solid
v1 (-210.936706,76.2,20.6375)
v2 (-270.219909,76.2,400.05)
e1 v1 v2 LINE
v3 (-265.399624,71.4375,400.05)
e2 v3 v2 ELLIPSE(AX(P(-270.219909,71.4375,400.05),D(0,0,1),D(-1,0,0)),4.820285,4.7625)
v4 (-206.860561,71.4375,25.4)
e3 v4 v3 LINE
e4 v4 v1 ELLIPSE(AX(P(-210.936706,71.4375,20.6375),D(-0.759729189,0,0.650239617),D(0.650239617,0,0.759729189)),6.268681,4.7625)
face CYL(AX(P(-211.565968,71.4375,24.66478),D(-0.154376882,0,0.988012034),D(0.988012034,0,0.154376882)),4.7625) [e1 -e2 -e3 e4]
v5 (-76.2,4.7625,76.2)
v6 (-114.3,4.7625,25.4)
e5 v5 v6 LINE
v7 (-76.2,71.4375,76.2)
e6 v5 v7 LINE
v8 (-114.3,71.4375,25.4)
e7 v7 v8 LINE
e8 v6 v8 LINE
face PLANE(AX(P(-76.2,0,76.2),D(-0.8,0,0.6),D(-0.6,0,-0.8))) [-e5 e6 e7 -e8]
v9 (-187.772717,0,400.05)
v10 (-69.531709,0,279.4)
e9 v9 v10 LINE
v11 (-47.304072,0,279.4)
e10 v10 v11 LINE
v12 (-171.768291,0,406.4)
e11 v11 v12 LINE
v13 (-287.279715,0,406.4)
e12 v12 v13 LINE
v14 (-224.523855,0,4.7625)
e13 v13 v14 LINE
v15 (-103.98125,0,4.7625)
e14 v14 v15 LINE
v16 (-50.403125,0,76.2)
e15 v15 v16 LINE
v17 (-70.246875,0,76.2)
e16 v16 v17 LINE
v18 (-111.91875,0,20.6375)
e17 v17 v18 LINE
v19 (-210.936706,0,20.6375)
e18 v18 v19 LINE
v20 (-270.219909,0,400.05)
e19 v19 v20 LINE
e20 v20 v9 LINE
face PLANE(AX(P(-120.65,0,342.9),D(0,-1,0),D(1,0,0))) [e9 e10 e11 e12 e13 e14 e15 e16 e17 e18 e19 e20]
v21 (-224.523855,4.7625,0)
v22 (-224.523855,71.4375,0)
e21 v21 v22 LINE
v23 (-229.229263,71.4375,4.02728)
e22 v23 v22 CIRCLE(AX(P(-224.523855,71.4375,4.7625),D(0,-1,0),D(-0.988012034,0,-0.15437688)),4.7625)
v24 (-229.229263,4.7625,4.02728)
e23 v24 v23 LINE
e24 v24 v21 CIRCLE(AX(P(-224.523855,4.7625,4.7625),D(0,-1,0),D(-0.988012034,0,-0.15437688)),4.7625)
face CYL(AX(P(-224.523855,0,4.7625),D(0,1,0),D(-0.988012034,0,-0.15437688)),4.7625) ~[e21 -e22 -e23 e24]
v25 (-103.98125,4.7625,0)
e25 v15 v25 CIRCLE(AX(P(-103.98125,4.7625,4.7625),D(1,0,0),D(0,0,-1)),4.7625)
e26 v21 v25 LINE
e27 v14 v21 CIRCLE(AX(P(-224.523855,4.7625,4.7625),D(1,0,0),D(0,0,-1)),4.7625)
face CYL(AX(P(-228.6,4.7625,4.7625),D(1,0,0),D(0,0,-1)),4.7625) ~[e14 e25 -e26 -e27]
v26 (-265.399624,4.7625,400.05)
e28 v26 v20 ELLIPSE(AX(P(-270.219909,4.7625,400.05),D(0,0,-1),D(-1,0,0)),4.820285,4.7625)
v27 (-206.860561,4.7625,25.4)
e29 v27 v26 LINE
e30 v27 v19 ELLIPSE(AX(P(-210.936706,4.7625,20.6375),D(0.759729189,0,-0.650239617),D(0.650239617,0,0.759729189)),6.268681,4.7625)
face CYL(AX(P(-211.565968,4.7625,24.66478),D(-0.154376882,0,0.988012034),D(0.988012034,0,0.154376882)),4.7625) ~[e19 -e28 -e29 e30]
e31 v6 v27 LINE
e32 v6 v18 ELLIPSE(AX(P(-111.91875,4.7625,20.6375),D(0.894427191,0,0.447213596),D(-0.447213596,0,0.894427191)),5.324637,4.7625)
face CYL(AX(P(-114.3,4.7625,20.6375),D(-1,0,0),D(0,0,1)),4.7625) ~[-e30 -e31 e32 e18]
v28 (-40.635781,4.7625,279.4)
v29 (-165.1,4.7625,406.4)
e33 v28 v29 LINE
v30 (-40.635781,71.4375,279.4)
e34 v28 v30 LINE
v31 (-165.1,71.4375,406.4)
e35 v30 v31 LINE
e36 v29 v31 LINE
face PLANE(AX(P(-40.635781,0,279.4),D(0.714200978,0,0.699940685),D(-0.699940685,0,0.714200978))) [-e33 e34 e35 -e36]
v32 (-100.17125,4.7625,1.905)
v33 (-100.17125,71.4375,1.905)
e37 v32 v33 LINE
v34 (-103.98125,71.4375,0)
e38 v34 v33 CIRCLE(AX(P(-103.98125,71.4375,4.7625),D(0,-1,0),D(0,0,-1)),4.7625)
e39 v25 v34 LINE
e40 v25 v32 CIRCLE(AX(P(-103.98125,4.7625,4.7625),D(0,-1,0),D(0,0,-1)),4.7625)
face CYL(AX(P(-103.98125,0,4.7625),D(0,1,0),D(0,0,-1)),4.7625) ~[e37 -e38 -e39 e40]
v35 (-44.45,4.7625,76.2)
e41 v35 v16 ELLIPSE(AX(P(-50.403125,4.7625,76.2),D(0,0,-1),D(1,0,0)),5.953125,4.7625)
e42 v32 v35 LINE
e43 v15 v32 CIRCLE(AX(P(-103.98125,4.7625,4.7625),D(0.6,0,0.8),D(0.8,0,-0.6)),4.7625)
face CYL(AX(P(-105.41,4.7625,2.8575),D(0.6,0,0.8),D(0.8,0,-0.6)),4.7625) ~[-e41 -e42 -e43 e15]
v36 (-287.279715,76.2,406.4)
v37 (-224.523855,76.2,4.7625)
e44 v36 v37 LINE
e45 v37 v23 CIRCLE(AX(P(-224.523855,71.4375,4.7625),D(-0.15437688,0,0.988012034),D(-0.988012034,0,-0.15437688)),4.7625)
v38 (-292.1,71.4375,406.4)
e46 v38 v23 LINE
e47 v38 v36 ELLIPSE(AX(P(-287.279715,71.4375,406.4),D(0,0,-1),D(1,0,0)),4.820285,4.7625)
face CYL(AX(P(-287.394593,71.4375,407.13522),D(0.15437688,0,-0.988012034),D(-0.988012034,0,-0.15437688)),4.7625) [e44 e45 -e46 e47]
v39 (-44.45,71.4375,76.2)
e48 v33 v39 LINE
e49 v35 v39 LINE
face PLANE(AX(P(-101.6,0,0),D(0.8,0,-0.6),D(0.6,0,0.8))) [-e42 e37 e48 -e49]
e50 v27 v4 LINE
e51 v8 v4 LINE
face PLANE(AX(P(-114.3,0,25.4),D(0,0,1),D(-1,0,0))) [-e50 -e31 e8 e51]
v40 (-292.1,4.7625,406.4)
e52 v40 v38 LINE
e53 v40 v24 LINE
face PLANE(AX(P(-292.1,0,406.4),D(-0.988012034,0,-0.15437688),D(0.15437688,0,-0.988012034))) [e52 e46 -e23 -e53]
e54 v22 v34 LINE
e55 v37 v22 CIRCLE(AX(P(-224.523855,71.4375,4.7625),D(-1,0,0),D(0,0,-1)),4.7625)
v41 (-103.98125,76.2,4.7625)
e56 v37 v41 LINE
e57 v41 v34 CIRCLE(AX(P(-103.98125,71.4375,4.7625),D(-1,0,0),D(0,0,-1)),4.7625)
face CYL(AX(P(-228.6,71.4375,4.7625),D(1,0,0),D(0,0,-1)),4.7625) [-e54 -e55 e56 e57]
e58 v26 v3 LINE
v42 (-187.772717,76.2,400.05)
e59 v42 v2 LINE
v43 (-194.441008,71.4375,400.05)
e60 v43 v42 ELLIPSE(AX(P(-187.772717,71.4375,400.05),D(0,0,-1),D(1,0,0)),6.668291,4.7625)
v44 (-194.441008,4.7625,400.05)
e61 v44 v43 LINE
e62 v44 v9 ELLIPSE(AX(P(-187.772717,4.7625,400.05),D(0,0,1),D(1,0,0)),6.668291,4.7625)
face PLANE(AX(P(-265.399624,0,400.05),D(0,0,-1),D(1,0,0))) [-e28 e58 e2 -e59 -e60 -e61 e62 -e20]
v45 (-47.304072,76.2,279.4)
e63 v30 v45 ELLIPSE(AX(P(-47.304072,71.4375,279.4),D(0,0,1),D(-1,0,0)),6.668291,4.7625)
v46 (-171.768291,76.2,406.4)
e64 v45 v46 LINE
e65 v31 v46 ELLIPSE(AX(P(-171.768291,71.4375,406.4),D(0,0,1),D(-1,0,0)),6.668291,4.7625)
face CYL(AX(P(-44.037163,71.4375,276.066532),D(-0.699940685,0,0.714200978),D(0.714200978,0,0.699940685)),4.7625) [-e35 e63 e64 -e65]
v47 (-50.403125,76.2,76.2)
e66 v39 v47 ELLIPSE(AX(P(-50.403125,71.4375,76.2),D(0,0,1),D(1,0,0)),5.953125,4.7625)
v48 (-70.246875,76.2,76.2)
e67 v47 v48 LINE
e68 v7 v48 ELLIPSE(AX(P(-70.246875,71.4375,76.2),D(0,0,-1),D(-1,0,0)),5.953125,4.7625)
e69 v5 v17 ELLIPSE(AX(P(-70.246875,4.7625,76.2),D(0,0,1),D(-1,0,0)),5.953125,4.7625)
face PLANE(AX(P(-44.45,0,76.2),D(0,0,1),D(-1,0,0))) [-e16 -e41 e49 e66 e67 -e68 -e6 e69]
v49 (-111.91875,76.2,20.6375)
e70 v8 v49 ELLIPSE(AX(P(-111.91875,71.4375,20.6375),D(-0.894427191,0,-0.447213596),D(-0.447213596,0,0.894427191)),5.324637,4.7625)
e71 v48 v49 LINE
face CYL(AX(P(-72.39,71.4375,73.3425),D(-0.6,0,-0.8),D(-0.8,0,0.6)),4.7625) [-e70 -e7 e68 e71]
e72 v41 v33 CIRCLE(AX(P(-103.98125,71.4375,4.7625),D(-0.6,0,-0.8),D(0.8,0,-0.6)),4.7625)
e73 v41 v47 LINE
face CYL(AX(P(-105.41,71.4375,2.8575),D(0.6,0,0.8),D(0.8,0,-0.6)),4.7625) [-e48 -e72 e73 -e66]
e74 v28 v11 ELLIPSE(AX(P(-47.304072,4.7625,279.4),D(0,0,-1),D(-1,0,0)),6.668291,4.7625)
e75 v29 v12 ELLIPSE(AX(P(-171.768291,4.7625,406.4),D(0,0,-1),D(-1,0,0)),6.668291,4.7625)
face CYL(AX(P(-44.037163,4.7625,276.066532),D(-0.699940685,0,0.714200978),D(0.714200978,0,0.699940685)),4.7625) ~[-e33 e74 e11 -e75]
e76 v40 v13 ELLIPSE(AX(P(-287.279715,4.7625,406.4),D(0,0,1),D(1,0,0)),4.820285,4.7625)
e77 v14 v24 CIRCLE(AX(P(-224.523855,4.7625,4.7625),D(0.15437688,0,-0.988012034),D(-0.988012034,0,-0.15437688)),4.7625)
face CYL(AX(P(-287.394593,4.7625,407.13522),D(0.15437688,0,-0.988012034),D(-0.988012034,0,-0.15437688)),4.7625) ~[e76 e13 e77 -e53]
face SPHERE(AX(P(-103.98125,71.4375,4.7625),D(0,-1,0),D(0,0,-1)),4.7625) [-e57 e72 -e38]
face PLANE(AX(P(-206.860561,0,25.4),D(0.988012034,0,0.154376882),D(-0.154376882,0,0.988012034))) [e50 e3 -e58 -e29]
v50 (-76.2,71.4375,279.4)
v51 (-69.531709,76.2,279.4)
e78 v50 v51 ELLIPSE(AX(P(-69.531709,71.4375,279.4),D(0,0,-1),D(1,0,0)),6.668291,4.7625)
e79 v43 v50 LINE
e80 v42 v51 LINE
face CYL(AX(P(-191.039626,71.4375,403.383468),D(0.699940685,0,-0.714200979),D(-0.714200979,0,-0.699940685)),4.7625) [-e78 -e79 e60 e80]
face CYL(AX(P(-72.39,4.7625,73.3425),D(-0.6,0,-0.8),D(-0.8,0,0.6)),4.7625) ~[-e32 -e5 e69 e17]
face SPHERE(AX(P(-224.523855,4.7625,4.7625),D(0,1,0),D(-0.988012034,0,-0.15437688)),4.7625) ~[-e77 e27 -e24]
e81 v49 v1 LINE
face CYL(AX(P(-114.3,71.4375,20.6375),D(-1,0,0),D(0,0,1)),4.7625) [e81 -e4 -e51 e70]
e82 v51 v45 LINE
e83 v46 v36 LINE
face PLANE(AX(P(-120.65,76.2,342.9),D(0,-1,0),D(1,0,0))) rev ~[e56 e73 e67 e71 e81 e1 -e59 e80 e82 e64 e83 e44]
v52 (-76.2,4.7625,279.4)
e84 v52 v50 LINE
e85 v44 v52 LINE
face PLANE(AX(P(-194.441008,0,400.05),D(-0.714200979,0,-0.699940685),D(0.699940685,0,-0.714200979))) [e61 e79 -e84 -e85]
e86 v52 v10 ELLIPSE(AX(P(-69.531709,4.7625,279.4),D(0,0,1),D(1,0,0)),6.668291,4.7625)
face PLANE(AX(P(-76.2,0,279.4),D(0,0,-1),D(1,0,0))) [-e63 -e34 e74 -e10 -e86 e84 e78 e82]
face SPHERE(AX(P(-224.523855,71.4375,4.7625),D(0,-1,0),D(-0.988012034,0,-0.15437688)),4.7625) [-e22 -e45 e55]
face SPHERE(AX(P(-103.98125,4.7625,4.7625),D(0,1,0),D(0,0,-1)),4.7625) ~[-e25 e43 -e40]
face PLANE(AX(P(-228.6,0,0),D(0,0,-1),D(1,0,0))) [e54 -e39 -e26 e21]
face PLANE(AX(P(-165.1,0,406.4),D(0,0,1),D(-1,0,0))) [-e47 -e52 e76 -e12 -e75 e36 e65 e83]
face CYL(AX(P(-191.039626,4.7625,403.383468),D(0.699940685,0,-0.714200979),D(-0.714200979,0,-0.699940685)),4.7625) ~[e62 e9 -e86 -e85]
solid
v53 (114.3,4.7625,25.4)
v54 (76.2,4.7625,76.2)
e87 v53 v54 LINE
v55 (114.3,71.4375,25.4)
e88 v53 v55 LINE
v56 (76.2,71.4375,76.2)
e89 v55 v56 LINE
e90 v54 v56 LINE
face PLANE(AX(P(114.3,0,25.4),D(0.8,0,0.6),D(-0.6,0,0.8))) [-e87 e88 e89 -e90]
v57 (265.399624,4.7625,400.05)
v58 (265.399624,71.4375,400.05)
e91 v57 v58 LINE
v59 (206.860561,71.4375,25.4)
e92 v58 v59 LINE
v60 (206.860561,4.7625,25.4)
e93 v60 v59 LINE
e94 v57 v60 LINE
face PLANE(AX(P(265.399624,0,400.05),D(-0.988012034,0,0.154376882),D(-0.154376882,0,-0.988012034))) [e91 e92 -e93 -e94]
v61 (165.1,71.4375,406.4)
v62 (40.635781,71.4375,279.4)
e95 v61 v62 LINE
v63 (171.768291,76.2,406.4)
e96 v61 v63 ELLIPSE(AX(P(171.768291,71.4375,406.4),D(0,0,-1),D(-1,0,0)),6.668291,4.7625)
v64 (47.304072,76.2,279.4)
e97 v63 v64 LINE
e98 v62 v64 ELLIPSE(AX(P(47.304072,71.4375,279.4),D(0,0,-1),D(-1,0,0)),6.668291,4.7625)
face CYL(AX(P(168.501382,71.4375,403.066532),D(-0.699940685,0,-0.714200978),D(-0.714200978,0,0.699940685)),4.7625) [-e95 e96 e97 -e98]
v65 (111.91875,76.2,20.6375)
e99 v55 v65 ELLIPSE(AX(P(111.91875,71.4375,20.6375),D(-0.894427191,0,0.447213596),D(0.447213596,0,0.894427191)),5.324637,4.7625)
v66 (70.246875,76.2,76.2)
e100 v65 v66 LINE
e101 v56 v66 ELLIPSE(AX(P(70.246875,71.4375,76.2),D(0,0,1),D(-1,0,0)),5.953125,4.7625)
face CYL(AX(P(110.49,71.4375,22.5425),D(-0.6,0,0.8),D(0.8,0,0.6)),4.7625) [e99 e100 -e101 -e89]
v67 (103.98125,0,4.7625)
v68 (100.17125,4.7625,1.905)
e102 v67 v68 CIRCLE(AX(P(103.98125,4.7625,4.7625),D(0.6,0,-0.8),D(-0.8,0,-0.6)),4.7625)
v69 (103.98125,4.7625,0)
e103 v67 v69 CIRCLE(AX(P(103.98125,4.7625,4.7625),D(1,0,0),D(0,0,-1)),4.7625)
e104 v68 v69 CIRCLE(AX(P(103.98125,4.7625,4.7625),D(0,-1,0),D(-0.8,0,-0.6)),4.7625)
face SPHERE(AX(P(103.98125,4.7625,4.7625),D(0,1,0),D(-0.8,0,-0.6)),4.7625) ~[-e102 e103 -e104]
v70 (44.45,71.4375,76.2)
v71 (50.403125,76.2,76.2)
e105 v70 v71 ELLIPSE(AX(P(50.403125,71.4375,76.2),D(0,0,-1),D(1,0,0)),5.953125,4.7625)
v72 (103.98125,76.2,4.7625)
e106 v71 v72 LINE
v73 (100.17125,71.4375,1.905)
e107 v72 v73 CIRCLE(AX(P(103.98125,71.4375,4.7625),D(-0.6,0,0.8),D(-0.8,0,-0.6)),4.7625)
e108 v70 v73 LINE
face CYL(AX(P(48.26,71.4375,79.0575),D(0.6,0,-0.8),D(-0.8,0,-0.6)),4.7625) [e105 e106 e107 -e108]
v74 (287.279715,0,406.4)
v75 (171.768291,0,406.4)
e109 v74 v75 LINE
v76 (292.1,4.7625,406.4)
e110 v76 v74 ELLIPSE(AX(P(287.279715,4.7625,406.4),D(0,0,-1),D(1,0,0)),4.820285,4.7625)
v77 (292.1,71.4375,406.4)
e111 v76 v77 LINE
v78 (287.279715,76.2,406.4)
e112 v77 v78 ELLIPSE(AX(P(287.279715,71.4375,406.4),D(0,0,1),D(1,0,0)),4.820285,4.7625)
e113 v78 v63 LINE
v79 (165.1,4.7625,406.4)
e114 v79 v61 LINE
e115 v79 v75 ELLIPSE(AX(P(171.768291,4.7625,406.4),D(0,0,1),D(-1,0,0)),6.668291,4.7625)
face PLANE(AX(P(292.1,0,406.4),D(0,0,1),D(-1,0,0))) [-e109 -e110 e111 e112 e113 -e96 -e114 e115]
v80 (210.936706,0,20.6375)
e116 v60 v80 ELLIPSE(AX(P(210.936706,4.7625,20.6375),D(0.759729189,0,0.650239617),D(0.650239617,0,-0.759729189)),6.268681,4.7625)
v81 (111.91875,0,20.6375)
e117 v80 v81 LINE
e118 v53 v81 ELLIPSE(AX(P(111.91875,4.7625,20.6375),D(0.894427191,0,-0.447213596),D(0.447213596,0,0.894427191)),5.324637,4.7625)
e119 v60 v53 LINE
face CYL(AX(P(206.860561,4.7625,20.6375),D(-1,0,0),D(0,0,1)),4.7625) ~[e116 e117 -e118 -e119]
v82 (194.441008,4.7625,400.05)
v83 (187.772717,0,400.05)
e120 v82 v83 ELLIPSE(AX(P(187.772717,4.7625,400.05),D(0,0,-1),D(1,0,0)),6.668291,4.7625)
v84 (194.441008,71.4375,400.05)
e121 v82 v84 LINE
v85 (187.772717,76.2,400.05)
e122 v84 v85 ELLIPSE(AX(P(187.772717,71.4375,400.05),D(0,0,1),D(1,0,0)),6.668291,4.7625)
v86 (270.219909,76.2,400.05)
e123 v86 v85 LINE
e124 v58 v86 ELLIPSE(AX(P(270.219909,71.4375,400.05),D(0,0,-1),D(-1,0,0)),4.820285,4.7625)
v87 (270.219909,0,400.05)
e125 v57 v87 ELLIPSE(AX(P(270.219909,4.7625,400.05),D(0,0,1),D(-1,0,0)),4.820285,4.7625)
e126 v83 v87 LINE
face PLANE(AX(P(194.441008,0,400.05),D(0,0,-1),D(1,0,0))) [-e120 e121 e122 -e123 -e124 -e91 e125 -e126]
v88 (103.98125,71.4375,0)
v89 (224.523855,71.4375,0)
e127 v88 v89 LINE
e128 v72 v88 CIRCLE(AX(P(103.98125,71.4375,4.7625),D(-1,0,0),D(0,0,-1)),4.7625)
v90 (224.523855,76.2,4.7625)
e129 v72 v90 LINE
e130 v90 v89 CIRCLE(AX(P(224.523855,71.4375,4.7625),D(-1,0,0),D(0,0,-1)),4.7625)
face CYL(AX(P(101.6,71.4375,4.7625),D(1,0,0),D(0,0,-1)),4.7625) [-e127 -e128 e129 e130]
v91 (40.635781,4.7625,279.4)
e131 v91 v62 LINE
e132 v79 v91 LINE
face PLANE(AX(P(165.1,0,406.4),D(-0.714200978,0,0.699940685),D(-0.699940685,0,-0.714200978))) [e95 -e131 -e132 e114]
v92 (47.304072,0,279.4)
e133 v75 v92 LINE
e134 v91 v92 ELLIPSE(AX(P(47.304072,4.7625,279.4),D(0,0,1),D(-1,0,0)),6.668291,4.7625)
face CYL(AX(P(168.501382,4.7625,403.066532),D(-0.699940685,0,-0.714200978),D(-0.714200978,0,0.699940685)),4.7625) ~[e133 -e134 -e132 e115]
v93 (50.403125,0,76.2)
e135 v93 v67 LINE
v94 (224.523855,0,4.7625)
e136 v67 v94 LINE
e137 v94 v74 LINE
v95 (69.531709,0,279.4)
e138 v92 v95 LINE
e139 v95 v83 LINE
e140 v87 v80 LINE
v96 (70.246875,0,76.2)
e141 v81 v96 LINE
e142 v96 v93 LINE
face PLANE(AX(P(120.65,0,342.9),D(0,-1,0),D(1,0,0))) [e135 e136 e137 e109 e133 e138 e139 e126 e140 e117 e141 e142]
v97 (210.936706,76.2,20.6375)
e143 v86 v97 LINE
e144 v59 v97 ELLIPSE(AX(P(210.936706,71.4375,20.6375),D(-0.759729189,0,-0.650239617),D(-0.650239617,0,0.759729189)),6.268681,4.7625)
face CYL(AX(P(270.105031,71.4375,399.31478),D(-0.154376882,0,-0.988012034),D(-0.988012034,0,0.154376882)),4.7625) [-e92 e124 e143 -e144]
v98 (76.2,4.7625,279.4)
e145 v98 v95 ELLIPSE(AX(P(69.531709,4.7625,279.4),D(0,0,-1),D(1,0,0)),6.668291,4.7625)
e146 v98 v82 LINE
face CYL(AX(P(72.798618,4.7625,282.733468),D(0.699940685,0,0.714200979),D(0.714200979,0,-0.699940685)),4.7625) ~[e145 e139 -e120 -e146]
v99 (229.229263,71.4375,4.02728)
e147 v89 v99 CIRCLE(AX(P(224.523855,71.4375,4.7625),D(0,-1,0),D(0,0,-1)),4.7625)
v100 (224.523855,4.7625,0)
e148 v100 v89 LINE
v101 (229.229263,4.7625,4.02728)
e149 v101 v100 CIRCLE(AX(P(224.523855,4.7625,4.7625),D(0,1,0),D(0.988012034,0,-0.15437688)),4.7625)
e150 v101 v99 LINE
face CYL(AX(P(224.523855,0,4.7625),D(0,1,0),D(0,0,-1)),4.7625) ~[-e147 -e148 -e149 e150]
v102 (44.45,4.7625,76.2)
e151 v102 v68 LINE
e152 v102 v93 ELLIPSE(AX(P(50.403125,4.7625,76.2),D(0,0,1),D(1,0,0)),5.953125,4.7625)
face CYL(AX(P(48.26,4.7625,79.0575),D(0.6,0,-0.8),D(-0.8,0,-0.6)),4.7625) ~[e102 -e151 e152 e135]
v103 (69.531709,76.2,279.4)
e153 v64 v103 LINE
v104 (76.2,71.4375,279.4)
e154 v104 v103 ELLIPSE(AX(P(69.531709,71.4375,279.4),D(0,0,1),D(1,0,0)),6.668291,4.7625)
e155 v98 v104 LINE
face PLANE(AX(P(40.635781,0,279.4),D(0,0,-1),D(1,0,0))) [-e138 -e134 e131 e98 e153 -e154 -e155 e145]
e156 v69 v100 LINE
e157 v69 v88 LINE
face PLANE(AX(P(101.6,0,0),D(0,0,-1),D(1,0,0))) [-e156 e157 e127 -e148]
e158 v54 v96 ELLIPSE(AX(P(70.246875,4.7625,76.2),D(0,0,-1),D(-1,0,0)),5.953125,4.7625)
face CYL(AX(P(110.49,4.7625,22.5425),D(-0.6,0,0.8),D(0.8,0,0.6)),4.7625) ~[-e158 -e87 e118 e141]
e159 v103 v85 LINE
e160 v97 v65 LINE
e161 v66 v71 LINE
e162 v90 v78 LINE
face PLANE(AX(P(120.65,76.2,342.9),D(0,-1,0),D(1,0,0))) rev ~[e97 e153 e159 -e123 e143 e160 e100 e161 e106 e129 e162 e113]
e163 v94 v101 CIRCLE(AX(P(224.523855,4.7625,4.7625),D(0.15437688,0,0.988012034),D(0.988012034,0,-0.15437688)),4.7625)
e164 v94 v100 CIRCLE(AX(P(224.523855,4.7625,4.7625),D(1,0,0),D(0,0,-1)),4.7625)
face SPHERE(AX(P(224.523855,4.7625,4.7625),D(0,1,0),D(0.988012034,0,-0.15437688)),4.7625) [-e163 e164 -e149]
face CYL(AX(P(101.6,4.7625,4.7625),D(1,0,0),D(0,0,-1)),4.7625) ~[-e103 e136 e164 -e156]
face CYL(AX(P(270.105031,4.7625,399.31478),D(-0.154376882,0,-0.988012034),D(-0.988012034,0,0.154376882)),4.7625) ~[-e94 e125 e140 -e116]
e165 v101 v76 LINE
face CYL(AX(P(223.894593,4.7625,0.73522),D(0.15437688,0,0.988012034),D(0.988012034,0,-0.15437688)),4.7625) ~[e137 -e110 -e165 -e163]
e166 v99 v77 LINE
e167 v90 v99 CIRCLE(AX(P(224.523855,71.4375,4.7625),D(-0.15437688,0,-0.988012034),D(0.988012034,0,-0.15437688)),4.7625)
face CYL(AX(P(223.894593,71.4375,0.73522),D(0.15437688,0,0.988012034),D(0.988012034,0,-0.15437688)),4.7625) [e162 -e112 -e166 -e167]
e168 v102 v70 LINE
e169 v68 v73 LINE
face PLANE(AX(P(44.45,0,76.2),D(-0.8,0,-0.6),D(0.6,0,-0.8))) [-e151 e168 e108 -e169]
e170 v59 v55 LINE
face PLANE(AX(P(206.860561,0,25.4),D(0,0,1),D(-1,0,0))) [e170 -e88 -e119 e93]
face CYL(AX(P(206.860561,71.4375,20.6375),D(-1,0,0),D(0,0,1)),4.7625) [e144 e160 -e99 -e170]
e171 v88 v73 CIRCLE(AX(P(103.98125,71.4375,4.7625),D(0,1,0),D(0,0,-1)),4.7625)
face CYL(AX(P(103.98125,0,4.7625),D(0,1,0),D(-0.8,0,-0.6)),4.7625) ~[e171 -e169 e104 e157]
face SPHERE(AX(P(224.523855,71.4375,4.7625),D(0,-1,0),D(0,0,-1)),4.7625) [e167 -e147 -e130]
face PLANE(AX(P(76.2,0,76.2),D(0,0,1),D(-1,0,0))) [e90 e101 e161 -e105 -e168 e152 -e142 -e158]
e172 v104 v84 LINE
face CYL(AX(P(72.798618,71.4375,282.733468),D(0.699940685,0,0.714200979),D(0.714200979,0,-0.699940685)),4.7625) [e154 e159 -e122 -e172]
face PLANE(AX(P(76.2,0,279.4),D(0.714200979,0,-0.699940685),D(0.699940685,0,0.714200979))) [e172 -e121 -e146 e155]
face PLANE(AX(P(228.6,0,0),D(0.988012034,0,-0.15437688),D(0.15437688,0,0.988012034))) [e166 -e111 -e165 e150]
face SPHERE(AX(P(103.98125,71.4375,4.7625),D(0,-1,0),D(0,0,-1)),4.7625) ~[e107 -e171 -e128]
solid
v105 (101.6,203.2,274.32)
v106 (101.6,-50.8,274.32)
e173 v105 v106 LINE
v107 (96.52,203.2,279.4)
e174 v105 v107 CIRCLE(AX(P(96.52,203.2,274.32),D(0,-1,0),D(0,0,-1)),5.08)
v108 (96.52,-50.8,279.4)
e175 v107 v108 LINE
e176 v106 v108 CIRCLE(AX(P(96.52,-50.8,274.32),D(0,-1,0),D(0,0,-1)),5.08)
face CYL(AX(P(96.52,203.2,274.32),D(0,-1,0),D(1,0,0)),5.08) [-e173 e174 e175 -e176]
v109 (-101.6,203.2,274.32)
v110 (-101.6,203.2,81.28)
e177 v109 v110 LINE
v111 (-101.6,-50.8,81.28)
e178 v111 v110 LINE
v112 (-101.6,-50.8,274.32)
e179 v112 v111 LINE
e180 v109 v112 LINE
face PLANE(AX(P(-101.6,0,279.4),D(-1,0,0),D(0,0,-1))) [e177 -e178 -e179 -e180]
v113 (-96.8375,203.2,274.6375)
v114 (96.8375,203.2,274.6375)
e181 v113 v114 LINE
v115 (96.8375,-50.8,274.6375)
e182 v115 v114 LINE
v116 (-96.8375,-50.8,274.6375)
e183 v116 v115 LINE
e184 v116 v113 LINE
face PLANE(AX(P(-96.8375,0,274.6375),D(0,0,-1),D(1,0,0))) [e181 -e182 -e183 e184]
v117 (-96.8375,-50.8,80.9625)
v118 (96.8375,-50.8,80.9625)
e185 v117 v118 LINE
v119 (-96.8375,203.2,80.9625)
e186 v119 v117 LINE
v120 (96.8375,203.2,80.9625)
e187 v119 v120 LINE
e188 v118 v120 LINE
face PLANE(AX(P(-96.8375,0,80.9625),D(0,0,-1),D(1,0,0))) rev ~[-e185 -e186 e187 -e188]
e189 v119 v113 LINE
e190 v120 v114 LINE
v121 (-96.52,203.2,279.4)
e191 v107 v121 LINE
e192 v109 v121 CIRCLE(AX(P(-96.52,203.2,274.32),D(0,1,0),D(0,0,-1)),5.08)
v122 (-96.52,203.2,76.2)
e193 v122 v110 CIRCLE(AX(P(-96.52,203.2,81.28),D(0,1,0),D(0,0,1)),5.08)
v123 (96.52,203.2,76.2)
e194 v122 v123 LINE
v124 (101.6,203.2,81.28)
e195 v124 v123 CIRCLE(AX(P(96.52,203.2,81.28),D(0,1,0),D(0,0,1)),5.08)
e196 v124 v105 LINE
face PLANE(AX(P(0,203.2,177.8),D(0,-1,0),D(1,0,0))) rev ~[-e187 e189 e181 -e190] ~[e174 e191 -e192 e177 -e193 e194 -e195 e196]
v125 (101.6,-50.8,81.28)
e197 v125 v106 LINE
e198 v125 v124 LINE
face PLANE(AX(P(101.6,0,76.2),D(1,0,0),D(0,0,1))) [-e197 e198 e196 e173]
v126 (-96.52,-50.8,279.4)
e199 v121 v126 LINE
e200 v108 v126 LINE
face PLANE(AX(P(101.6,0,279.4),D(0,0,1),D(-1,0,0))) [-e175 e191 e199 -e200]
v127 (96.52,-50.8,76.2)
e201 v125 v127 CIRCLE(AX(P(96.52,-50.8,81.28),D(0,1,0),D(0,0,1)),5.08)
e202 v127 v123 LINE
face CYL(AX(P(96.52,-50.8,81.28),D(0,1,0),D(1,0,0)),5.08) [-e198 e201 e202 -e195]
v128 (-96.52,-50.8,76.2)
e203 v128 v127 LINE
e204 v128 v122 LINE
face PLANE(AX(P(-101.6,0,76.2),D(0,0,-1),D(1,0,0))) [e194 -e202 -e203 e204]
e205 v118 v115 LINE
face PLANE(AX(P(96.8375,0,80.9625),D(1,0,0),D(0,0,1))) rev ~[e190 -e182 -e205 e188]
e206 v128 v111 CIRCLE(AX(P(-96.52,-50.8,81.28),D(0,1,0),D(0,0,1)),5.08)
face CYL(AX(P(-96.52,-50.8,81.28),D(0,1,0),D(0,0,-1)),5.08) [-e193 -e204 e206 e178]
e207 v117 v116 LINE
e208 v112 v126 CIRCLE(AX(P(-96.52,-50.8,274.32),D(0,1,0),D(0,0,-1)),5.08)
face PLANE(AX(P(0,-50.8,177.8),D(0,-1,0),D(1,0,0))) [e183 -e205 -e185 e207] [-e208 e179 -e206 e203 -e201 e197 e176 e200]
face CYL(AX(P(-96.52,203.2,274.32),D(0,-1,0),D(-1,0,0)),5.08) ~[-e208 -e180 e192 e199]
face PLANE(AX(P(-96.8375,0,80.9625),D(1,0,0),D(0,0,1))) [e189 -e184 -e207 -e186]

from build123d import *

# Parameters (mm, degrees)
F1_DEPTH      = 76.2
F0_W          = 193.675
F0_H          = 193.675
F2_DEPTH      = 50.8
F2_DEPTH_BACK = 203.2
F3_R          = 5.08
F4_R          = 4.7625


with BuildPart() as f1:
    # F0 (on Front) → F1 (new body)
    with BuildSketch(Plane.XZ):
        Polygon((-165.1, 406.4), (-200.664219, 406.4), (-194.441008, 400.05), (-76.2, 279.4), (-40.635781, 279.4), align=None)
        Polygon((-200.664219, 406.4), (-266.391811, 406.4), (-265.399624, 400.05), (-194.441008, 400.05), align=None)
        Polygon((-292.1, 406.4), (-228.6, 0), (-101.6, 0), (-44.45, 76.2), (-76.2, 76.2), (-114.3, 25.4), (-206.860561, 25.4), (-265.399624, 400.05), (-266.391811, 406.4), align=None)
        Polygon((165.1, 406.4), (40.635781, 279.4), (76.2, 279.4), (194.441008, 400.05), (200.664219, 406.4), align=None)
        Polygon((76.2, 76.2), (44.45, 76.2), (101.6, 0), (228.6, 0), (292.1, 406.4), (266.391811, 406.4), (265.399624, 400.05), (206.860561, 25.4), (114.3, 25.4), align=None)
        Polygon((265.399624, 400.05), (266.391811, 406.4), (200.664219, 406.4), (194.441008, 400.05), align=None)
    extrude(amount=-F1_DEPTH)

    # F4
    f4_edges = [f1.edges().sort_by_distance(p)[0] for p in [
        (-102.867891, 76.2, 342.9),
        (-102.867891, 0, 342.9),
        (-135.320504, 0, 339.725),
        (-236.130092, 0, 212.725),
        (-260.35, 0, 203.2),
        (-236.130092, 76.2, 212.725),
        (-160.580281, 0, 25.4),
        (-165.1, 0, 0),
        (102.867891, 0, 342.9),
        (102.867891, 76.2, 342.9),
        (135.320504, 0, 339.725),
        (236.130092, 0, 212.725),
        (260.35, 0, 203.2),
        (260.35, 76.2, 203.2),
        (95.25, 0, 50.8),
        (73.025, 0, 38.1),
        (95.25, 76.2, 50.8),
        (160.580281, 76.2, 25.4),
        (160.580281, 0, 25.4),
        (165.1, 0, 0),
        (228.6, 38.1, 0),
        (-228.6, 38.1, 0),
        (-260.35, 76.2, 203.2),
        (-165.1, 76.2, 0),
        (-160.580281, 76.2, 25.4),
        (-95.25, 0, 50.8),
        (-95.25, 76.2, 50.8),
        (-73.025, 76.2, 38.1),
        (165.1, 76.2, 0),
        (236.130092, 76.2, 212.725),
        (135.320504, 76.2, 339.725),
        (-135.320504, 76.2, 339.725),
        (73.025, 76.2, 38.1),
        (101.6, 38.1, 0),
        (-73.025, 0, 38.1),
        (-101.6, 38.1, 0),
    ]]
    fillet(f4_edges, radius=F4_R)


with BuildPart() as f2:
    # F0 (on Front) → F2 (new body, two sides)
    with BuildSketch(Plane.XZ) as f2_sk:
        Polygon((-76.2, 76.2), (-44.45, 76.2), (44.45, 76.2), (76.2, 76.2), (101.6, 76.2), (101.6, 279.4), (76.2, 279.4), (40.635781, 279.4), (-40.635781, 279.4), (-76.2, 279.4), (-101.6, 279.4), (-101.6, 76.2), align=None)
        with Locations((0, 177.8)):
            Rectangle(F0_W, F0_H, mode=Mode.SUBTRACT)
    extrude(amount=F2_DEPTH)
    extrude(f2_sk.sketch, amount=-F2_DEPTH_BACK)

    # F3
    f3_edges = [f2.edges().sort_by_distance(p)[0] for p in [
        (-101.6, 76.2, 279.4),
        (101.6, 76.2, 279.4),
        (101.6, 76.2, 76.2),
        (-101.6, 76.2, 76.2),
    ]]
    fillet(f3_edges, radius=F3_R)


solid = Compound([f1.part, f2.part])
